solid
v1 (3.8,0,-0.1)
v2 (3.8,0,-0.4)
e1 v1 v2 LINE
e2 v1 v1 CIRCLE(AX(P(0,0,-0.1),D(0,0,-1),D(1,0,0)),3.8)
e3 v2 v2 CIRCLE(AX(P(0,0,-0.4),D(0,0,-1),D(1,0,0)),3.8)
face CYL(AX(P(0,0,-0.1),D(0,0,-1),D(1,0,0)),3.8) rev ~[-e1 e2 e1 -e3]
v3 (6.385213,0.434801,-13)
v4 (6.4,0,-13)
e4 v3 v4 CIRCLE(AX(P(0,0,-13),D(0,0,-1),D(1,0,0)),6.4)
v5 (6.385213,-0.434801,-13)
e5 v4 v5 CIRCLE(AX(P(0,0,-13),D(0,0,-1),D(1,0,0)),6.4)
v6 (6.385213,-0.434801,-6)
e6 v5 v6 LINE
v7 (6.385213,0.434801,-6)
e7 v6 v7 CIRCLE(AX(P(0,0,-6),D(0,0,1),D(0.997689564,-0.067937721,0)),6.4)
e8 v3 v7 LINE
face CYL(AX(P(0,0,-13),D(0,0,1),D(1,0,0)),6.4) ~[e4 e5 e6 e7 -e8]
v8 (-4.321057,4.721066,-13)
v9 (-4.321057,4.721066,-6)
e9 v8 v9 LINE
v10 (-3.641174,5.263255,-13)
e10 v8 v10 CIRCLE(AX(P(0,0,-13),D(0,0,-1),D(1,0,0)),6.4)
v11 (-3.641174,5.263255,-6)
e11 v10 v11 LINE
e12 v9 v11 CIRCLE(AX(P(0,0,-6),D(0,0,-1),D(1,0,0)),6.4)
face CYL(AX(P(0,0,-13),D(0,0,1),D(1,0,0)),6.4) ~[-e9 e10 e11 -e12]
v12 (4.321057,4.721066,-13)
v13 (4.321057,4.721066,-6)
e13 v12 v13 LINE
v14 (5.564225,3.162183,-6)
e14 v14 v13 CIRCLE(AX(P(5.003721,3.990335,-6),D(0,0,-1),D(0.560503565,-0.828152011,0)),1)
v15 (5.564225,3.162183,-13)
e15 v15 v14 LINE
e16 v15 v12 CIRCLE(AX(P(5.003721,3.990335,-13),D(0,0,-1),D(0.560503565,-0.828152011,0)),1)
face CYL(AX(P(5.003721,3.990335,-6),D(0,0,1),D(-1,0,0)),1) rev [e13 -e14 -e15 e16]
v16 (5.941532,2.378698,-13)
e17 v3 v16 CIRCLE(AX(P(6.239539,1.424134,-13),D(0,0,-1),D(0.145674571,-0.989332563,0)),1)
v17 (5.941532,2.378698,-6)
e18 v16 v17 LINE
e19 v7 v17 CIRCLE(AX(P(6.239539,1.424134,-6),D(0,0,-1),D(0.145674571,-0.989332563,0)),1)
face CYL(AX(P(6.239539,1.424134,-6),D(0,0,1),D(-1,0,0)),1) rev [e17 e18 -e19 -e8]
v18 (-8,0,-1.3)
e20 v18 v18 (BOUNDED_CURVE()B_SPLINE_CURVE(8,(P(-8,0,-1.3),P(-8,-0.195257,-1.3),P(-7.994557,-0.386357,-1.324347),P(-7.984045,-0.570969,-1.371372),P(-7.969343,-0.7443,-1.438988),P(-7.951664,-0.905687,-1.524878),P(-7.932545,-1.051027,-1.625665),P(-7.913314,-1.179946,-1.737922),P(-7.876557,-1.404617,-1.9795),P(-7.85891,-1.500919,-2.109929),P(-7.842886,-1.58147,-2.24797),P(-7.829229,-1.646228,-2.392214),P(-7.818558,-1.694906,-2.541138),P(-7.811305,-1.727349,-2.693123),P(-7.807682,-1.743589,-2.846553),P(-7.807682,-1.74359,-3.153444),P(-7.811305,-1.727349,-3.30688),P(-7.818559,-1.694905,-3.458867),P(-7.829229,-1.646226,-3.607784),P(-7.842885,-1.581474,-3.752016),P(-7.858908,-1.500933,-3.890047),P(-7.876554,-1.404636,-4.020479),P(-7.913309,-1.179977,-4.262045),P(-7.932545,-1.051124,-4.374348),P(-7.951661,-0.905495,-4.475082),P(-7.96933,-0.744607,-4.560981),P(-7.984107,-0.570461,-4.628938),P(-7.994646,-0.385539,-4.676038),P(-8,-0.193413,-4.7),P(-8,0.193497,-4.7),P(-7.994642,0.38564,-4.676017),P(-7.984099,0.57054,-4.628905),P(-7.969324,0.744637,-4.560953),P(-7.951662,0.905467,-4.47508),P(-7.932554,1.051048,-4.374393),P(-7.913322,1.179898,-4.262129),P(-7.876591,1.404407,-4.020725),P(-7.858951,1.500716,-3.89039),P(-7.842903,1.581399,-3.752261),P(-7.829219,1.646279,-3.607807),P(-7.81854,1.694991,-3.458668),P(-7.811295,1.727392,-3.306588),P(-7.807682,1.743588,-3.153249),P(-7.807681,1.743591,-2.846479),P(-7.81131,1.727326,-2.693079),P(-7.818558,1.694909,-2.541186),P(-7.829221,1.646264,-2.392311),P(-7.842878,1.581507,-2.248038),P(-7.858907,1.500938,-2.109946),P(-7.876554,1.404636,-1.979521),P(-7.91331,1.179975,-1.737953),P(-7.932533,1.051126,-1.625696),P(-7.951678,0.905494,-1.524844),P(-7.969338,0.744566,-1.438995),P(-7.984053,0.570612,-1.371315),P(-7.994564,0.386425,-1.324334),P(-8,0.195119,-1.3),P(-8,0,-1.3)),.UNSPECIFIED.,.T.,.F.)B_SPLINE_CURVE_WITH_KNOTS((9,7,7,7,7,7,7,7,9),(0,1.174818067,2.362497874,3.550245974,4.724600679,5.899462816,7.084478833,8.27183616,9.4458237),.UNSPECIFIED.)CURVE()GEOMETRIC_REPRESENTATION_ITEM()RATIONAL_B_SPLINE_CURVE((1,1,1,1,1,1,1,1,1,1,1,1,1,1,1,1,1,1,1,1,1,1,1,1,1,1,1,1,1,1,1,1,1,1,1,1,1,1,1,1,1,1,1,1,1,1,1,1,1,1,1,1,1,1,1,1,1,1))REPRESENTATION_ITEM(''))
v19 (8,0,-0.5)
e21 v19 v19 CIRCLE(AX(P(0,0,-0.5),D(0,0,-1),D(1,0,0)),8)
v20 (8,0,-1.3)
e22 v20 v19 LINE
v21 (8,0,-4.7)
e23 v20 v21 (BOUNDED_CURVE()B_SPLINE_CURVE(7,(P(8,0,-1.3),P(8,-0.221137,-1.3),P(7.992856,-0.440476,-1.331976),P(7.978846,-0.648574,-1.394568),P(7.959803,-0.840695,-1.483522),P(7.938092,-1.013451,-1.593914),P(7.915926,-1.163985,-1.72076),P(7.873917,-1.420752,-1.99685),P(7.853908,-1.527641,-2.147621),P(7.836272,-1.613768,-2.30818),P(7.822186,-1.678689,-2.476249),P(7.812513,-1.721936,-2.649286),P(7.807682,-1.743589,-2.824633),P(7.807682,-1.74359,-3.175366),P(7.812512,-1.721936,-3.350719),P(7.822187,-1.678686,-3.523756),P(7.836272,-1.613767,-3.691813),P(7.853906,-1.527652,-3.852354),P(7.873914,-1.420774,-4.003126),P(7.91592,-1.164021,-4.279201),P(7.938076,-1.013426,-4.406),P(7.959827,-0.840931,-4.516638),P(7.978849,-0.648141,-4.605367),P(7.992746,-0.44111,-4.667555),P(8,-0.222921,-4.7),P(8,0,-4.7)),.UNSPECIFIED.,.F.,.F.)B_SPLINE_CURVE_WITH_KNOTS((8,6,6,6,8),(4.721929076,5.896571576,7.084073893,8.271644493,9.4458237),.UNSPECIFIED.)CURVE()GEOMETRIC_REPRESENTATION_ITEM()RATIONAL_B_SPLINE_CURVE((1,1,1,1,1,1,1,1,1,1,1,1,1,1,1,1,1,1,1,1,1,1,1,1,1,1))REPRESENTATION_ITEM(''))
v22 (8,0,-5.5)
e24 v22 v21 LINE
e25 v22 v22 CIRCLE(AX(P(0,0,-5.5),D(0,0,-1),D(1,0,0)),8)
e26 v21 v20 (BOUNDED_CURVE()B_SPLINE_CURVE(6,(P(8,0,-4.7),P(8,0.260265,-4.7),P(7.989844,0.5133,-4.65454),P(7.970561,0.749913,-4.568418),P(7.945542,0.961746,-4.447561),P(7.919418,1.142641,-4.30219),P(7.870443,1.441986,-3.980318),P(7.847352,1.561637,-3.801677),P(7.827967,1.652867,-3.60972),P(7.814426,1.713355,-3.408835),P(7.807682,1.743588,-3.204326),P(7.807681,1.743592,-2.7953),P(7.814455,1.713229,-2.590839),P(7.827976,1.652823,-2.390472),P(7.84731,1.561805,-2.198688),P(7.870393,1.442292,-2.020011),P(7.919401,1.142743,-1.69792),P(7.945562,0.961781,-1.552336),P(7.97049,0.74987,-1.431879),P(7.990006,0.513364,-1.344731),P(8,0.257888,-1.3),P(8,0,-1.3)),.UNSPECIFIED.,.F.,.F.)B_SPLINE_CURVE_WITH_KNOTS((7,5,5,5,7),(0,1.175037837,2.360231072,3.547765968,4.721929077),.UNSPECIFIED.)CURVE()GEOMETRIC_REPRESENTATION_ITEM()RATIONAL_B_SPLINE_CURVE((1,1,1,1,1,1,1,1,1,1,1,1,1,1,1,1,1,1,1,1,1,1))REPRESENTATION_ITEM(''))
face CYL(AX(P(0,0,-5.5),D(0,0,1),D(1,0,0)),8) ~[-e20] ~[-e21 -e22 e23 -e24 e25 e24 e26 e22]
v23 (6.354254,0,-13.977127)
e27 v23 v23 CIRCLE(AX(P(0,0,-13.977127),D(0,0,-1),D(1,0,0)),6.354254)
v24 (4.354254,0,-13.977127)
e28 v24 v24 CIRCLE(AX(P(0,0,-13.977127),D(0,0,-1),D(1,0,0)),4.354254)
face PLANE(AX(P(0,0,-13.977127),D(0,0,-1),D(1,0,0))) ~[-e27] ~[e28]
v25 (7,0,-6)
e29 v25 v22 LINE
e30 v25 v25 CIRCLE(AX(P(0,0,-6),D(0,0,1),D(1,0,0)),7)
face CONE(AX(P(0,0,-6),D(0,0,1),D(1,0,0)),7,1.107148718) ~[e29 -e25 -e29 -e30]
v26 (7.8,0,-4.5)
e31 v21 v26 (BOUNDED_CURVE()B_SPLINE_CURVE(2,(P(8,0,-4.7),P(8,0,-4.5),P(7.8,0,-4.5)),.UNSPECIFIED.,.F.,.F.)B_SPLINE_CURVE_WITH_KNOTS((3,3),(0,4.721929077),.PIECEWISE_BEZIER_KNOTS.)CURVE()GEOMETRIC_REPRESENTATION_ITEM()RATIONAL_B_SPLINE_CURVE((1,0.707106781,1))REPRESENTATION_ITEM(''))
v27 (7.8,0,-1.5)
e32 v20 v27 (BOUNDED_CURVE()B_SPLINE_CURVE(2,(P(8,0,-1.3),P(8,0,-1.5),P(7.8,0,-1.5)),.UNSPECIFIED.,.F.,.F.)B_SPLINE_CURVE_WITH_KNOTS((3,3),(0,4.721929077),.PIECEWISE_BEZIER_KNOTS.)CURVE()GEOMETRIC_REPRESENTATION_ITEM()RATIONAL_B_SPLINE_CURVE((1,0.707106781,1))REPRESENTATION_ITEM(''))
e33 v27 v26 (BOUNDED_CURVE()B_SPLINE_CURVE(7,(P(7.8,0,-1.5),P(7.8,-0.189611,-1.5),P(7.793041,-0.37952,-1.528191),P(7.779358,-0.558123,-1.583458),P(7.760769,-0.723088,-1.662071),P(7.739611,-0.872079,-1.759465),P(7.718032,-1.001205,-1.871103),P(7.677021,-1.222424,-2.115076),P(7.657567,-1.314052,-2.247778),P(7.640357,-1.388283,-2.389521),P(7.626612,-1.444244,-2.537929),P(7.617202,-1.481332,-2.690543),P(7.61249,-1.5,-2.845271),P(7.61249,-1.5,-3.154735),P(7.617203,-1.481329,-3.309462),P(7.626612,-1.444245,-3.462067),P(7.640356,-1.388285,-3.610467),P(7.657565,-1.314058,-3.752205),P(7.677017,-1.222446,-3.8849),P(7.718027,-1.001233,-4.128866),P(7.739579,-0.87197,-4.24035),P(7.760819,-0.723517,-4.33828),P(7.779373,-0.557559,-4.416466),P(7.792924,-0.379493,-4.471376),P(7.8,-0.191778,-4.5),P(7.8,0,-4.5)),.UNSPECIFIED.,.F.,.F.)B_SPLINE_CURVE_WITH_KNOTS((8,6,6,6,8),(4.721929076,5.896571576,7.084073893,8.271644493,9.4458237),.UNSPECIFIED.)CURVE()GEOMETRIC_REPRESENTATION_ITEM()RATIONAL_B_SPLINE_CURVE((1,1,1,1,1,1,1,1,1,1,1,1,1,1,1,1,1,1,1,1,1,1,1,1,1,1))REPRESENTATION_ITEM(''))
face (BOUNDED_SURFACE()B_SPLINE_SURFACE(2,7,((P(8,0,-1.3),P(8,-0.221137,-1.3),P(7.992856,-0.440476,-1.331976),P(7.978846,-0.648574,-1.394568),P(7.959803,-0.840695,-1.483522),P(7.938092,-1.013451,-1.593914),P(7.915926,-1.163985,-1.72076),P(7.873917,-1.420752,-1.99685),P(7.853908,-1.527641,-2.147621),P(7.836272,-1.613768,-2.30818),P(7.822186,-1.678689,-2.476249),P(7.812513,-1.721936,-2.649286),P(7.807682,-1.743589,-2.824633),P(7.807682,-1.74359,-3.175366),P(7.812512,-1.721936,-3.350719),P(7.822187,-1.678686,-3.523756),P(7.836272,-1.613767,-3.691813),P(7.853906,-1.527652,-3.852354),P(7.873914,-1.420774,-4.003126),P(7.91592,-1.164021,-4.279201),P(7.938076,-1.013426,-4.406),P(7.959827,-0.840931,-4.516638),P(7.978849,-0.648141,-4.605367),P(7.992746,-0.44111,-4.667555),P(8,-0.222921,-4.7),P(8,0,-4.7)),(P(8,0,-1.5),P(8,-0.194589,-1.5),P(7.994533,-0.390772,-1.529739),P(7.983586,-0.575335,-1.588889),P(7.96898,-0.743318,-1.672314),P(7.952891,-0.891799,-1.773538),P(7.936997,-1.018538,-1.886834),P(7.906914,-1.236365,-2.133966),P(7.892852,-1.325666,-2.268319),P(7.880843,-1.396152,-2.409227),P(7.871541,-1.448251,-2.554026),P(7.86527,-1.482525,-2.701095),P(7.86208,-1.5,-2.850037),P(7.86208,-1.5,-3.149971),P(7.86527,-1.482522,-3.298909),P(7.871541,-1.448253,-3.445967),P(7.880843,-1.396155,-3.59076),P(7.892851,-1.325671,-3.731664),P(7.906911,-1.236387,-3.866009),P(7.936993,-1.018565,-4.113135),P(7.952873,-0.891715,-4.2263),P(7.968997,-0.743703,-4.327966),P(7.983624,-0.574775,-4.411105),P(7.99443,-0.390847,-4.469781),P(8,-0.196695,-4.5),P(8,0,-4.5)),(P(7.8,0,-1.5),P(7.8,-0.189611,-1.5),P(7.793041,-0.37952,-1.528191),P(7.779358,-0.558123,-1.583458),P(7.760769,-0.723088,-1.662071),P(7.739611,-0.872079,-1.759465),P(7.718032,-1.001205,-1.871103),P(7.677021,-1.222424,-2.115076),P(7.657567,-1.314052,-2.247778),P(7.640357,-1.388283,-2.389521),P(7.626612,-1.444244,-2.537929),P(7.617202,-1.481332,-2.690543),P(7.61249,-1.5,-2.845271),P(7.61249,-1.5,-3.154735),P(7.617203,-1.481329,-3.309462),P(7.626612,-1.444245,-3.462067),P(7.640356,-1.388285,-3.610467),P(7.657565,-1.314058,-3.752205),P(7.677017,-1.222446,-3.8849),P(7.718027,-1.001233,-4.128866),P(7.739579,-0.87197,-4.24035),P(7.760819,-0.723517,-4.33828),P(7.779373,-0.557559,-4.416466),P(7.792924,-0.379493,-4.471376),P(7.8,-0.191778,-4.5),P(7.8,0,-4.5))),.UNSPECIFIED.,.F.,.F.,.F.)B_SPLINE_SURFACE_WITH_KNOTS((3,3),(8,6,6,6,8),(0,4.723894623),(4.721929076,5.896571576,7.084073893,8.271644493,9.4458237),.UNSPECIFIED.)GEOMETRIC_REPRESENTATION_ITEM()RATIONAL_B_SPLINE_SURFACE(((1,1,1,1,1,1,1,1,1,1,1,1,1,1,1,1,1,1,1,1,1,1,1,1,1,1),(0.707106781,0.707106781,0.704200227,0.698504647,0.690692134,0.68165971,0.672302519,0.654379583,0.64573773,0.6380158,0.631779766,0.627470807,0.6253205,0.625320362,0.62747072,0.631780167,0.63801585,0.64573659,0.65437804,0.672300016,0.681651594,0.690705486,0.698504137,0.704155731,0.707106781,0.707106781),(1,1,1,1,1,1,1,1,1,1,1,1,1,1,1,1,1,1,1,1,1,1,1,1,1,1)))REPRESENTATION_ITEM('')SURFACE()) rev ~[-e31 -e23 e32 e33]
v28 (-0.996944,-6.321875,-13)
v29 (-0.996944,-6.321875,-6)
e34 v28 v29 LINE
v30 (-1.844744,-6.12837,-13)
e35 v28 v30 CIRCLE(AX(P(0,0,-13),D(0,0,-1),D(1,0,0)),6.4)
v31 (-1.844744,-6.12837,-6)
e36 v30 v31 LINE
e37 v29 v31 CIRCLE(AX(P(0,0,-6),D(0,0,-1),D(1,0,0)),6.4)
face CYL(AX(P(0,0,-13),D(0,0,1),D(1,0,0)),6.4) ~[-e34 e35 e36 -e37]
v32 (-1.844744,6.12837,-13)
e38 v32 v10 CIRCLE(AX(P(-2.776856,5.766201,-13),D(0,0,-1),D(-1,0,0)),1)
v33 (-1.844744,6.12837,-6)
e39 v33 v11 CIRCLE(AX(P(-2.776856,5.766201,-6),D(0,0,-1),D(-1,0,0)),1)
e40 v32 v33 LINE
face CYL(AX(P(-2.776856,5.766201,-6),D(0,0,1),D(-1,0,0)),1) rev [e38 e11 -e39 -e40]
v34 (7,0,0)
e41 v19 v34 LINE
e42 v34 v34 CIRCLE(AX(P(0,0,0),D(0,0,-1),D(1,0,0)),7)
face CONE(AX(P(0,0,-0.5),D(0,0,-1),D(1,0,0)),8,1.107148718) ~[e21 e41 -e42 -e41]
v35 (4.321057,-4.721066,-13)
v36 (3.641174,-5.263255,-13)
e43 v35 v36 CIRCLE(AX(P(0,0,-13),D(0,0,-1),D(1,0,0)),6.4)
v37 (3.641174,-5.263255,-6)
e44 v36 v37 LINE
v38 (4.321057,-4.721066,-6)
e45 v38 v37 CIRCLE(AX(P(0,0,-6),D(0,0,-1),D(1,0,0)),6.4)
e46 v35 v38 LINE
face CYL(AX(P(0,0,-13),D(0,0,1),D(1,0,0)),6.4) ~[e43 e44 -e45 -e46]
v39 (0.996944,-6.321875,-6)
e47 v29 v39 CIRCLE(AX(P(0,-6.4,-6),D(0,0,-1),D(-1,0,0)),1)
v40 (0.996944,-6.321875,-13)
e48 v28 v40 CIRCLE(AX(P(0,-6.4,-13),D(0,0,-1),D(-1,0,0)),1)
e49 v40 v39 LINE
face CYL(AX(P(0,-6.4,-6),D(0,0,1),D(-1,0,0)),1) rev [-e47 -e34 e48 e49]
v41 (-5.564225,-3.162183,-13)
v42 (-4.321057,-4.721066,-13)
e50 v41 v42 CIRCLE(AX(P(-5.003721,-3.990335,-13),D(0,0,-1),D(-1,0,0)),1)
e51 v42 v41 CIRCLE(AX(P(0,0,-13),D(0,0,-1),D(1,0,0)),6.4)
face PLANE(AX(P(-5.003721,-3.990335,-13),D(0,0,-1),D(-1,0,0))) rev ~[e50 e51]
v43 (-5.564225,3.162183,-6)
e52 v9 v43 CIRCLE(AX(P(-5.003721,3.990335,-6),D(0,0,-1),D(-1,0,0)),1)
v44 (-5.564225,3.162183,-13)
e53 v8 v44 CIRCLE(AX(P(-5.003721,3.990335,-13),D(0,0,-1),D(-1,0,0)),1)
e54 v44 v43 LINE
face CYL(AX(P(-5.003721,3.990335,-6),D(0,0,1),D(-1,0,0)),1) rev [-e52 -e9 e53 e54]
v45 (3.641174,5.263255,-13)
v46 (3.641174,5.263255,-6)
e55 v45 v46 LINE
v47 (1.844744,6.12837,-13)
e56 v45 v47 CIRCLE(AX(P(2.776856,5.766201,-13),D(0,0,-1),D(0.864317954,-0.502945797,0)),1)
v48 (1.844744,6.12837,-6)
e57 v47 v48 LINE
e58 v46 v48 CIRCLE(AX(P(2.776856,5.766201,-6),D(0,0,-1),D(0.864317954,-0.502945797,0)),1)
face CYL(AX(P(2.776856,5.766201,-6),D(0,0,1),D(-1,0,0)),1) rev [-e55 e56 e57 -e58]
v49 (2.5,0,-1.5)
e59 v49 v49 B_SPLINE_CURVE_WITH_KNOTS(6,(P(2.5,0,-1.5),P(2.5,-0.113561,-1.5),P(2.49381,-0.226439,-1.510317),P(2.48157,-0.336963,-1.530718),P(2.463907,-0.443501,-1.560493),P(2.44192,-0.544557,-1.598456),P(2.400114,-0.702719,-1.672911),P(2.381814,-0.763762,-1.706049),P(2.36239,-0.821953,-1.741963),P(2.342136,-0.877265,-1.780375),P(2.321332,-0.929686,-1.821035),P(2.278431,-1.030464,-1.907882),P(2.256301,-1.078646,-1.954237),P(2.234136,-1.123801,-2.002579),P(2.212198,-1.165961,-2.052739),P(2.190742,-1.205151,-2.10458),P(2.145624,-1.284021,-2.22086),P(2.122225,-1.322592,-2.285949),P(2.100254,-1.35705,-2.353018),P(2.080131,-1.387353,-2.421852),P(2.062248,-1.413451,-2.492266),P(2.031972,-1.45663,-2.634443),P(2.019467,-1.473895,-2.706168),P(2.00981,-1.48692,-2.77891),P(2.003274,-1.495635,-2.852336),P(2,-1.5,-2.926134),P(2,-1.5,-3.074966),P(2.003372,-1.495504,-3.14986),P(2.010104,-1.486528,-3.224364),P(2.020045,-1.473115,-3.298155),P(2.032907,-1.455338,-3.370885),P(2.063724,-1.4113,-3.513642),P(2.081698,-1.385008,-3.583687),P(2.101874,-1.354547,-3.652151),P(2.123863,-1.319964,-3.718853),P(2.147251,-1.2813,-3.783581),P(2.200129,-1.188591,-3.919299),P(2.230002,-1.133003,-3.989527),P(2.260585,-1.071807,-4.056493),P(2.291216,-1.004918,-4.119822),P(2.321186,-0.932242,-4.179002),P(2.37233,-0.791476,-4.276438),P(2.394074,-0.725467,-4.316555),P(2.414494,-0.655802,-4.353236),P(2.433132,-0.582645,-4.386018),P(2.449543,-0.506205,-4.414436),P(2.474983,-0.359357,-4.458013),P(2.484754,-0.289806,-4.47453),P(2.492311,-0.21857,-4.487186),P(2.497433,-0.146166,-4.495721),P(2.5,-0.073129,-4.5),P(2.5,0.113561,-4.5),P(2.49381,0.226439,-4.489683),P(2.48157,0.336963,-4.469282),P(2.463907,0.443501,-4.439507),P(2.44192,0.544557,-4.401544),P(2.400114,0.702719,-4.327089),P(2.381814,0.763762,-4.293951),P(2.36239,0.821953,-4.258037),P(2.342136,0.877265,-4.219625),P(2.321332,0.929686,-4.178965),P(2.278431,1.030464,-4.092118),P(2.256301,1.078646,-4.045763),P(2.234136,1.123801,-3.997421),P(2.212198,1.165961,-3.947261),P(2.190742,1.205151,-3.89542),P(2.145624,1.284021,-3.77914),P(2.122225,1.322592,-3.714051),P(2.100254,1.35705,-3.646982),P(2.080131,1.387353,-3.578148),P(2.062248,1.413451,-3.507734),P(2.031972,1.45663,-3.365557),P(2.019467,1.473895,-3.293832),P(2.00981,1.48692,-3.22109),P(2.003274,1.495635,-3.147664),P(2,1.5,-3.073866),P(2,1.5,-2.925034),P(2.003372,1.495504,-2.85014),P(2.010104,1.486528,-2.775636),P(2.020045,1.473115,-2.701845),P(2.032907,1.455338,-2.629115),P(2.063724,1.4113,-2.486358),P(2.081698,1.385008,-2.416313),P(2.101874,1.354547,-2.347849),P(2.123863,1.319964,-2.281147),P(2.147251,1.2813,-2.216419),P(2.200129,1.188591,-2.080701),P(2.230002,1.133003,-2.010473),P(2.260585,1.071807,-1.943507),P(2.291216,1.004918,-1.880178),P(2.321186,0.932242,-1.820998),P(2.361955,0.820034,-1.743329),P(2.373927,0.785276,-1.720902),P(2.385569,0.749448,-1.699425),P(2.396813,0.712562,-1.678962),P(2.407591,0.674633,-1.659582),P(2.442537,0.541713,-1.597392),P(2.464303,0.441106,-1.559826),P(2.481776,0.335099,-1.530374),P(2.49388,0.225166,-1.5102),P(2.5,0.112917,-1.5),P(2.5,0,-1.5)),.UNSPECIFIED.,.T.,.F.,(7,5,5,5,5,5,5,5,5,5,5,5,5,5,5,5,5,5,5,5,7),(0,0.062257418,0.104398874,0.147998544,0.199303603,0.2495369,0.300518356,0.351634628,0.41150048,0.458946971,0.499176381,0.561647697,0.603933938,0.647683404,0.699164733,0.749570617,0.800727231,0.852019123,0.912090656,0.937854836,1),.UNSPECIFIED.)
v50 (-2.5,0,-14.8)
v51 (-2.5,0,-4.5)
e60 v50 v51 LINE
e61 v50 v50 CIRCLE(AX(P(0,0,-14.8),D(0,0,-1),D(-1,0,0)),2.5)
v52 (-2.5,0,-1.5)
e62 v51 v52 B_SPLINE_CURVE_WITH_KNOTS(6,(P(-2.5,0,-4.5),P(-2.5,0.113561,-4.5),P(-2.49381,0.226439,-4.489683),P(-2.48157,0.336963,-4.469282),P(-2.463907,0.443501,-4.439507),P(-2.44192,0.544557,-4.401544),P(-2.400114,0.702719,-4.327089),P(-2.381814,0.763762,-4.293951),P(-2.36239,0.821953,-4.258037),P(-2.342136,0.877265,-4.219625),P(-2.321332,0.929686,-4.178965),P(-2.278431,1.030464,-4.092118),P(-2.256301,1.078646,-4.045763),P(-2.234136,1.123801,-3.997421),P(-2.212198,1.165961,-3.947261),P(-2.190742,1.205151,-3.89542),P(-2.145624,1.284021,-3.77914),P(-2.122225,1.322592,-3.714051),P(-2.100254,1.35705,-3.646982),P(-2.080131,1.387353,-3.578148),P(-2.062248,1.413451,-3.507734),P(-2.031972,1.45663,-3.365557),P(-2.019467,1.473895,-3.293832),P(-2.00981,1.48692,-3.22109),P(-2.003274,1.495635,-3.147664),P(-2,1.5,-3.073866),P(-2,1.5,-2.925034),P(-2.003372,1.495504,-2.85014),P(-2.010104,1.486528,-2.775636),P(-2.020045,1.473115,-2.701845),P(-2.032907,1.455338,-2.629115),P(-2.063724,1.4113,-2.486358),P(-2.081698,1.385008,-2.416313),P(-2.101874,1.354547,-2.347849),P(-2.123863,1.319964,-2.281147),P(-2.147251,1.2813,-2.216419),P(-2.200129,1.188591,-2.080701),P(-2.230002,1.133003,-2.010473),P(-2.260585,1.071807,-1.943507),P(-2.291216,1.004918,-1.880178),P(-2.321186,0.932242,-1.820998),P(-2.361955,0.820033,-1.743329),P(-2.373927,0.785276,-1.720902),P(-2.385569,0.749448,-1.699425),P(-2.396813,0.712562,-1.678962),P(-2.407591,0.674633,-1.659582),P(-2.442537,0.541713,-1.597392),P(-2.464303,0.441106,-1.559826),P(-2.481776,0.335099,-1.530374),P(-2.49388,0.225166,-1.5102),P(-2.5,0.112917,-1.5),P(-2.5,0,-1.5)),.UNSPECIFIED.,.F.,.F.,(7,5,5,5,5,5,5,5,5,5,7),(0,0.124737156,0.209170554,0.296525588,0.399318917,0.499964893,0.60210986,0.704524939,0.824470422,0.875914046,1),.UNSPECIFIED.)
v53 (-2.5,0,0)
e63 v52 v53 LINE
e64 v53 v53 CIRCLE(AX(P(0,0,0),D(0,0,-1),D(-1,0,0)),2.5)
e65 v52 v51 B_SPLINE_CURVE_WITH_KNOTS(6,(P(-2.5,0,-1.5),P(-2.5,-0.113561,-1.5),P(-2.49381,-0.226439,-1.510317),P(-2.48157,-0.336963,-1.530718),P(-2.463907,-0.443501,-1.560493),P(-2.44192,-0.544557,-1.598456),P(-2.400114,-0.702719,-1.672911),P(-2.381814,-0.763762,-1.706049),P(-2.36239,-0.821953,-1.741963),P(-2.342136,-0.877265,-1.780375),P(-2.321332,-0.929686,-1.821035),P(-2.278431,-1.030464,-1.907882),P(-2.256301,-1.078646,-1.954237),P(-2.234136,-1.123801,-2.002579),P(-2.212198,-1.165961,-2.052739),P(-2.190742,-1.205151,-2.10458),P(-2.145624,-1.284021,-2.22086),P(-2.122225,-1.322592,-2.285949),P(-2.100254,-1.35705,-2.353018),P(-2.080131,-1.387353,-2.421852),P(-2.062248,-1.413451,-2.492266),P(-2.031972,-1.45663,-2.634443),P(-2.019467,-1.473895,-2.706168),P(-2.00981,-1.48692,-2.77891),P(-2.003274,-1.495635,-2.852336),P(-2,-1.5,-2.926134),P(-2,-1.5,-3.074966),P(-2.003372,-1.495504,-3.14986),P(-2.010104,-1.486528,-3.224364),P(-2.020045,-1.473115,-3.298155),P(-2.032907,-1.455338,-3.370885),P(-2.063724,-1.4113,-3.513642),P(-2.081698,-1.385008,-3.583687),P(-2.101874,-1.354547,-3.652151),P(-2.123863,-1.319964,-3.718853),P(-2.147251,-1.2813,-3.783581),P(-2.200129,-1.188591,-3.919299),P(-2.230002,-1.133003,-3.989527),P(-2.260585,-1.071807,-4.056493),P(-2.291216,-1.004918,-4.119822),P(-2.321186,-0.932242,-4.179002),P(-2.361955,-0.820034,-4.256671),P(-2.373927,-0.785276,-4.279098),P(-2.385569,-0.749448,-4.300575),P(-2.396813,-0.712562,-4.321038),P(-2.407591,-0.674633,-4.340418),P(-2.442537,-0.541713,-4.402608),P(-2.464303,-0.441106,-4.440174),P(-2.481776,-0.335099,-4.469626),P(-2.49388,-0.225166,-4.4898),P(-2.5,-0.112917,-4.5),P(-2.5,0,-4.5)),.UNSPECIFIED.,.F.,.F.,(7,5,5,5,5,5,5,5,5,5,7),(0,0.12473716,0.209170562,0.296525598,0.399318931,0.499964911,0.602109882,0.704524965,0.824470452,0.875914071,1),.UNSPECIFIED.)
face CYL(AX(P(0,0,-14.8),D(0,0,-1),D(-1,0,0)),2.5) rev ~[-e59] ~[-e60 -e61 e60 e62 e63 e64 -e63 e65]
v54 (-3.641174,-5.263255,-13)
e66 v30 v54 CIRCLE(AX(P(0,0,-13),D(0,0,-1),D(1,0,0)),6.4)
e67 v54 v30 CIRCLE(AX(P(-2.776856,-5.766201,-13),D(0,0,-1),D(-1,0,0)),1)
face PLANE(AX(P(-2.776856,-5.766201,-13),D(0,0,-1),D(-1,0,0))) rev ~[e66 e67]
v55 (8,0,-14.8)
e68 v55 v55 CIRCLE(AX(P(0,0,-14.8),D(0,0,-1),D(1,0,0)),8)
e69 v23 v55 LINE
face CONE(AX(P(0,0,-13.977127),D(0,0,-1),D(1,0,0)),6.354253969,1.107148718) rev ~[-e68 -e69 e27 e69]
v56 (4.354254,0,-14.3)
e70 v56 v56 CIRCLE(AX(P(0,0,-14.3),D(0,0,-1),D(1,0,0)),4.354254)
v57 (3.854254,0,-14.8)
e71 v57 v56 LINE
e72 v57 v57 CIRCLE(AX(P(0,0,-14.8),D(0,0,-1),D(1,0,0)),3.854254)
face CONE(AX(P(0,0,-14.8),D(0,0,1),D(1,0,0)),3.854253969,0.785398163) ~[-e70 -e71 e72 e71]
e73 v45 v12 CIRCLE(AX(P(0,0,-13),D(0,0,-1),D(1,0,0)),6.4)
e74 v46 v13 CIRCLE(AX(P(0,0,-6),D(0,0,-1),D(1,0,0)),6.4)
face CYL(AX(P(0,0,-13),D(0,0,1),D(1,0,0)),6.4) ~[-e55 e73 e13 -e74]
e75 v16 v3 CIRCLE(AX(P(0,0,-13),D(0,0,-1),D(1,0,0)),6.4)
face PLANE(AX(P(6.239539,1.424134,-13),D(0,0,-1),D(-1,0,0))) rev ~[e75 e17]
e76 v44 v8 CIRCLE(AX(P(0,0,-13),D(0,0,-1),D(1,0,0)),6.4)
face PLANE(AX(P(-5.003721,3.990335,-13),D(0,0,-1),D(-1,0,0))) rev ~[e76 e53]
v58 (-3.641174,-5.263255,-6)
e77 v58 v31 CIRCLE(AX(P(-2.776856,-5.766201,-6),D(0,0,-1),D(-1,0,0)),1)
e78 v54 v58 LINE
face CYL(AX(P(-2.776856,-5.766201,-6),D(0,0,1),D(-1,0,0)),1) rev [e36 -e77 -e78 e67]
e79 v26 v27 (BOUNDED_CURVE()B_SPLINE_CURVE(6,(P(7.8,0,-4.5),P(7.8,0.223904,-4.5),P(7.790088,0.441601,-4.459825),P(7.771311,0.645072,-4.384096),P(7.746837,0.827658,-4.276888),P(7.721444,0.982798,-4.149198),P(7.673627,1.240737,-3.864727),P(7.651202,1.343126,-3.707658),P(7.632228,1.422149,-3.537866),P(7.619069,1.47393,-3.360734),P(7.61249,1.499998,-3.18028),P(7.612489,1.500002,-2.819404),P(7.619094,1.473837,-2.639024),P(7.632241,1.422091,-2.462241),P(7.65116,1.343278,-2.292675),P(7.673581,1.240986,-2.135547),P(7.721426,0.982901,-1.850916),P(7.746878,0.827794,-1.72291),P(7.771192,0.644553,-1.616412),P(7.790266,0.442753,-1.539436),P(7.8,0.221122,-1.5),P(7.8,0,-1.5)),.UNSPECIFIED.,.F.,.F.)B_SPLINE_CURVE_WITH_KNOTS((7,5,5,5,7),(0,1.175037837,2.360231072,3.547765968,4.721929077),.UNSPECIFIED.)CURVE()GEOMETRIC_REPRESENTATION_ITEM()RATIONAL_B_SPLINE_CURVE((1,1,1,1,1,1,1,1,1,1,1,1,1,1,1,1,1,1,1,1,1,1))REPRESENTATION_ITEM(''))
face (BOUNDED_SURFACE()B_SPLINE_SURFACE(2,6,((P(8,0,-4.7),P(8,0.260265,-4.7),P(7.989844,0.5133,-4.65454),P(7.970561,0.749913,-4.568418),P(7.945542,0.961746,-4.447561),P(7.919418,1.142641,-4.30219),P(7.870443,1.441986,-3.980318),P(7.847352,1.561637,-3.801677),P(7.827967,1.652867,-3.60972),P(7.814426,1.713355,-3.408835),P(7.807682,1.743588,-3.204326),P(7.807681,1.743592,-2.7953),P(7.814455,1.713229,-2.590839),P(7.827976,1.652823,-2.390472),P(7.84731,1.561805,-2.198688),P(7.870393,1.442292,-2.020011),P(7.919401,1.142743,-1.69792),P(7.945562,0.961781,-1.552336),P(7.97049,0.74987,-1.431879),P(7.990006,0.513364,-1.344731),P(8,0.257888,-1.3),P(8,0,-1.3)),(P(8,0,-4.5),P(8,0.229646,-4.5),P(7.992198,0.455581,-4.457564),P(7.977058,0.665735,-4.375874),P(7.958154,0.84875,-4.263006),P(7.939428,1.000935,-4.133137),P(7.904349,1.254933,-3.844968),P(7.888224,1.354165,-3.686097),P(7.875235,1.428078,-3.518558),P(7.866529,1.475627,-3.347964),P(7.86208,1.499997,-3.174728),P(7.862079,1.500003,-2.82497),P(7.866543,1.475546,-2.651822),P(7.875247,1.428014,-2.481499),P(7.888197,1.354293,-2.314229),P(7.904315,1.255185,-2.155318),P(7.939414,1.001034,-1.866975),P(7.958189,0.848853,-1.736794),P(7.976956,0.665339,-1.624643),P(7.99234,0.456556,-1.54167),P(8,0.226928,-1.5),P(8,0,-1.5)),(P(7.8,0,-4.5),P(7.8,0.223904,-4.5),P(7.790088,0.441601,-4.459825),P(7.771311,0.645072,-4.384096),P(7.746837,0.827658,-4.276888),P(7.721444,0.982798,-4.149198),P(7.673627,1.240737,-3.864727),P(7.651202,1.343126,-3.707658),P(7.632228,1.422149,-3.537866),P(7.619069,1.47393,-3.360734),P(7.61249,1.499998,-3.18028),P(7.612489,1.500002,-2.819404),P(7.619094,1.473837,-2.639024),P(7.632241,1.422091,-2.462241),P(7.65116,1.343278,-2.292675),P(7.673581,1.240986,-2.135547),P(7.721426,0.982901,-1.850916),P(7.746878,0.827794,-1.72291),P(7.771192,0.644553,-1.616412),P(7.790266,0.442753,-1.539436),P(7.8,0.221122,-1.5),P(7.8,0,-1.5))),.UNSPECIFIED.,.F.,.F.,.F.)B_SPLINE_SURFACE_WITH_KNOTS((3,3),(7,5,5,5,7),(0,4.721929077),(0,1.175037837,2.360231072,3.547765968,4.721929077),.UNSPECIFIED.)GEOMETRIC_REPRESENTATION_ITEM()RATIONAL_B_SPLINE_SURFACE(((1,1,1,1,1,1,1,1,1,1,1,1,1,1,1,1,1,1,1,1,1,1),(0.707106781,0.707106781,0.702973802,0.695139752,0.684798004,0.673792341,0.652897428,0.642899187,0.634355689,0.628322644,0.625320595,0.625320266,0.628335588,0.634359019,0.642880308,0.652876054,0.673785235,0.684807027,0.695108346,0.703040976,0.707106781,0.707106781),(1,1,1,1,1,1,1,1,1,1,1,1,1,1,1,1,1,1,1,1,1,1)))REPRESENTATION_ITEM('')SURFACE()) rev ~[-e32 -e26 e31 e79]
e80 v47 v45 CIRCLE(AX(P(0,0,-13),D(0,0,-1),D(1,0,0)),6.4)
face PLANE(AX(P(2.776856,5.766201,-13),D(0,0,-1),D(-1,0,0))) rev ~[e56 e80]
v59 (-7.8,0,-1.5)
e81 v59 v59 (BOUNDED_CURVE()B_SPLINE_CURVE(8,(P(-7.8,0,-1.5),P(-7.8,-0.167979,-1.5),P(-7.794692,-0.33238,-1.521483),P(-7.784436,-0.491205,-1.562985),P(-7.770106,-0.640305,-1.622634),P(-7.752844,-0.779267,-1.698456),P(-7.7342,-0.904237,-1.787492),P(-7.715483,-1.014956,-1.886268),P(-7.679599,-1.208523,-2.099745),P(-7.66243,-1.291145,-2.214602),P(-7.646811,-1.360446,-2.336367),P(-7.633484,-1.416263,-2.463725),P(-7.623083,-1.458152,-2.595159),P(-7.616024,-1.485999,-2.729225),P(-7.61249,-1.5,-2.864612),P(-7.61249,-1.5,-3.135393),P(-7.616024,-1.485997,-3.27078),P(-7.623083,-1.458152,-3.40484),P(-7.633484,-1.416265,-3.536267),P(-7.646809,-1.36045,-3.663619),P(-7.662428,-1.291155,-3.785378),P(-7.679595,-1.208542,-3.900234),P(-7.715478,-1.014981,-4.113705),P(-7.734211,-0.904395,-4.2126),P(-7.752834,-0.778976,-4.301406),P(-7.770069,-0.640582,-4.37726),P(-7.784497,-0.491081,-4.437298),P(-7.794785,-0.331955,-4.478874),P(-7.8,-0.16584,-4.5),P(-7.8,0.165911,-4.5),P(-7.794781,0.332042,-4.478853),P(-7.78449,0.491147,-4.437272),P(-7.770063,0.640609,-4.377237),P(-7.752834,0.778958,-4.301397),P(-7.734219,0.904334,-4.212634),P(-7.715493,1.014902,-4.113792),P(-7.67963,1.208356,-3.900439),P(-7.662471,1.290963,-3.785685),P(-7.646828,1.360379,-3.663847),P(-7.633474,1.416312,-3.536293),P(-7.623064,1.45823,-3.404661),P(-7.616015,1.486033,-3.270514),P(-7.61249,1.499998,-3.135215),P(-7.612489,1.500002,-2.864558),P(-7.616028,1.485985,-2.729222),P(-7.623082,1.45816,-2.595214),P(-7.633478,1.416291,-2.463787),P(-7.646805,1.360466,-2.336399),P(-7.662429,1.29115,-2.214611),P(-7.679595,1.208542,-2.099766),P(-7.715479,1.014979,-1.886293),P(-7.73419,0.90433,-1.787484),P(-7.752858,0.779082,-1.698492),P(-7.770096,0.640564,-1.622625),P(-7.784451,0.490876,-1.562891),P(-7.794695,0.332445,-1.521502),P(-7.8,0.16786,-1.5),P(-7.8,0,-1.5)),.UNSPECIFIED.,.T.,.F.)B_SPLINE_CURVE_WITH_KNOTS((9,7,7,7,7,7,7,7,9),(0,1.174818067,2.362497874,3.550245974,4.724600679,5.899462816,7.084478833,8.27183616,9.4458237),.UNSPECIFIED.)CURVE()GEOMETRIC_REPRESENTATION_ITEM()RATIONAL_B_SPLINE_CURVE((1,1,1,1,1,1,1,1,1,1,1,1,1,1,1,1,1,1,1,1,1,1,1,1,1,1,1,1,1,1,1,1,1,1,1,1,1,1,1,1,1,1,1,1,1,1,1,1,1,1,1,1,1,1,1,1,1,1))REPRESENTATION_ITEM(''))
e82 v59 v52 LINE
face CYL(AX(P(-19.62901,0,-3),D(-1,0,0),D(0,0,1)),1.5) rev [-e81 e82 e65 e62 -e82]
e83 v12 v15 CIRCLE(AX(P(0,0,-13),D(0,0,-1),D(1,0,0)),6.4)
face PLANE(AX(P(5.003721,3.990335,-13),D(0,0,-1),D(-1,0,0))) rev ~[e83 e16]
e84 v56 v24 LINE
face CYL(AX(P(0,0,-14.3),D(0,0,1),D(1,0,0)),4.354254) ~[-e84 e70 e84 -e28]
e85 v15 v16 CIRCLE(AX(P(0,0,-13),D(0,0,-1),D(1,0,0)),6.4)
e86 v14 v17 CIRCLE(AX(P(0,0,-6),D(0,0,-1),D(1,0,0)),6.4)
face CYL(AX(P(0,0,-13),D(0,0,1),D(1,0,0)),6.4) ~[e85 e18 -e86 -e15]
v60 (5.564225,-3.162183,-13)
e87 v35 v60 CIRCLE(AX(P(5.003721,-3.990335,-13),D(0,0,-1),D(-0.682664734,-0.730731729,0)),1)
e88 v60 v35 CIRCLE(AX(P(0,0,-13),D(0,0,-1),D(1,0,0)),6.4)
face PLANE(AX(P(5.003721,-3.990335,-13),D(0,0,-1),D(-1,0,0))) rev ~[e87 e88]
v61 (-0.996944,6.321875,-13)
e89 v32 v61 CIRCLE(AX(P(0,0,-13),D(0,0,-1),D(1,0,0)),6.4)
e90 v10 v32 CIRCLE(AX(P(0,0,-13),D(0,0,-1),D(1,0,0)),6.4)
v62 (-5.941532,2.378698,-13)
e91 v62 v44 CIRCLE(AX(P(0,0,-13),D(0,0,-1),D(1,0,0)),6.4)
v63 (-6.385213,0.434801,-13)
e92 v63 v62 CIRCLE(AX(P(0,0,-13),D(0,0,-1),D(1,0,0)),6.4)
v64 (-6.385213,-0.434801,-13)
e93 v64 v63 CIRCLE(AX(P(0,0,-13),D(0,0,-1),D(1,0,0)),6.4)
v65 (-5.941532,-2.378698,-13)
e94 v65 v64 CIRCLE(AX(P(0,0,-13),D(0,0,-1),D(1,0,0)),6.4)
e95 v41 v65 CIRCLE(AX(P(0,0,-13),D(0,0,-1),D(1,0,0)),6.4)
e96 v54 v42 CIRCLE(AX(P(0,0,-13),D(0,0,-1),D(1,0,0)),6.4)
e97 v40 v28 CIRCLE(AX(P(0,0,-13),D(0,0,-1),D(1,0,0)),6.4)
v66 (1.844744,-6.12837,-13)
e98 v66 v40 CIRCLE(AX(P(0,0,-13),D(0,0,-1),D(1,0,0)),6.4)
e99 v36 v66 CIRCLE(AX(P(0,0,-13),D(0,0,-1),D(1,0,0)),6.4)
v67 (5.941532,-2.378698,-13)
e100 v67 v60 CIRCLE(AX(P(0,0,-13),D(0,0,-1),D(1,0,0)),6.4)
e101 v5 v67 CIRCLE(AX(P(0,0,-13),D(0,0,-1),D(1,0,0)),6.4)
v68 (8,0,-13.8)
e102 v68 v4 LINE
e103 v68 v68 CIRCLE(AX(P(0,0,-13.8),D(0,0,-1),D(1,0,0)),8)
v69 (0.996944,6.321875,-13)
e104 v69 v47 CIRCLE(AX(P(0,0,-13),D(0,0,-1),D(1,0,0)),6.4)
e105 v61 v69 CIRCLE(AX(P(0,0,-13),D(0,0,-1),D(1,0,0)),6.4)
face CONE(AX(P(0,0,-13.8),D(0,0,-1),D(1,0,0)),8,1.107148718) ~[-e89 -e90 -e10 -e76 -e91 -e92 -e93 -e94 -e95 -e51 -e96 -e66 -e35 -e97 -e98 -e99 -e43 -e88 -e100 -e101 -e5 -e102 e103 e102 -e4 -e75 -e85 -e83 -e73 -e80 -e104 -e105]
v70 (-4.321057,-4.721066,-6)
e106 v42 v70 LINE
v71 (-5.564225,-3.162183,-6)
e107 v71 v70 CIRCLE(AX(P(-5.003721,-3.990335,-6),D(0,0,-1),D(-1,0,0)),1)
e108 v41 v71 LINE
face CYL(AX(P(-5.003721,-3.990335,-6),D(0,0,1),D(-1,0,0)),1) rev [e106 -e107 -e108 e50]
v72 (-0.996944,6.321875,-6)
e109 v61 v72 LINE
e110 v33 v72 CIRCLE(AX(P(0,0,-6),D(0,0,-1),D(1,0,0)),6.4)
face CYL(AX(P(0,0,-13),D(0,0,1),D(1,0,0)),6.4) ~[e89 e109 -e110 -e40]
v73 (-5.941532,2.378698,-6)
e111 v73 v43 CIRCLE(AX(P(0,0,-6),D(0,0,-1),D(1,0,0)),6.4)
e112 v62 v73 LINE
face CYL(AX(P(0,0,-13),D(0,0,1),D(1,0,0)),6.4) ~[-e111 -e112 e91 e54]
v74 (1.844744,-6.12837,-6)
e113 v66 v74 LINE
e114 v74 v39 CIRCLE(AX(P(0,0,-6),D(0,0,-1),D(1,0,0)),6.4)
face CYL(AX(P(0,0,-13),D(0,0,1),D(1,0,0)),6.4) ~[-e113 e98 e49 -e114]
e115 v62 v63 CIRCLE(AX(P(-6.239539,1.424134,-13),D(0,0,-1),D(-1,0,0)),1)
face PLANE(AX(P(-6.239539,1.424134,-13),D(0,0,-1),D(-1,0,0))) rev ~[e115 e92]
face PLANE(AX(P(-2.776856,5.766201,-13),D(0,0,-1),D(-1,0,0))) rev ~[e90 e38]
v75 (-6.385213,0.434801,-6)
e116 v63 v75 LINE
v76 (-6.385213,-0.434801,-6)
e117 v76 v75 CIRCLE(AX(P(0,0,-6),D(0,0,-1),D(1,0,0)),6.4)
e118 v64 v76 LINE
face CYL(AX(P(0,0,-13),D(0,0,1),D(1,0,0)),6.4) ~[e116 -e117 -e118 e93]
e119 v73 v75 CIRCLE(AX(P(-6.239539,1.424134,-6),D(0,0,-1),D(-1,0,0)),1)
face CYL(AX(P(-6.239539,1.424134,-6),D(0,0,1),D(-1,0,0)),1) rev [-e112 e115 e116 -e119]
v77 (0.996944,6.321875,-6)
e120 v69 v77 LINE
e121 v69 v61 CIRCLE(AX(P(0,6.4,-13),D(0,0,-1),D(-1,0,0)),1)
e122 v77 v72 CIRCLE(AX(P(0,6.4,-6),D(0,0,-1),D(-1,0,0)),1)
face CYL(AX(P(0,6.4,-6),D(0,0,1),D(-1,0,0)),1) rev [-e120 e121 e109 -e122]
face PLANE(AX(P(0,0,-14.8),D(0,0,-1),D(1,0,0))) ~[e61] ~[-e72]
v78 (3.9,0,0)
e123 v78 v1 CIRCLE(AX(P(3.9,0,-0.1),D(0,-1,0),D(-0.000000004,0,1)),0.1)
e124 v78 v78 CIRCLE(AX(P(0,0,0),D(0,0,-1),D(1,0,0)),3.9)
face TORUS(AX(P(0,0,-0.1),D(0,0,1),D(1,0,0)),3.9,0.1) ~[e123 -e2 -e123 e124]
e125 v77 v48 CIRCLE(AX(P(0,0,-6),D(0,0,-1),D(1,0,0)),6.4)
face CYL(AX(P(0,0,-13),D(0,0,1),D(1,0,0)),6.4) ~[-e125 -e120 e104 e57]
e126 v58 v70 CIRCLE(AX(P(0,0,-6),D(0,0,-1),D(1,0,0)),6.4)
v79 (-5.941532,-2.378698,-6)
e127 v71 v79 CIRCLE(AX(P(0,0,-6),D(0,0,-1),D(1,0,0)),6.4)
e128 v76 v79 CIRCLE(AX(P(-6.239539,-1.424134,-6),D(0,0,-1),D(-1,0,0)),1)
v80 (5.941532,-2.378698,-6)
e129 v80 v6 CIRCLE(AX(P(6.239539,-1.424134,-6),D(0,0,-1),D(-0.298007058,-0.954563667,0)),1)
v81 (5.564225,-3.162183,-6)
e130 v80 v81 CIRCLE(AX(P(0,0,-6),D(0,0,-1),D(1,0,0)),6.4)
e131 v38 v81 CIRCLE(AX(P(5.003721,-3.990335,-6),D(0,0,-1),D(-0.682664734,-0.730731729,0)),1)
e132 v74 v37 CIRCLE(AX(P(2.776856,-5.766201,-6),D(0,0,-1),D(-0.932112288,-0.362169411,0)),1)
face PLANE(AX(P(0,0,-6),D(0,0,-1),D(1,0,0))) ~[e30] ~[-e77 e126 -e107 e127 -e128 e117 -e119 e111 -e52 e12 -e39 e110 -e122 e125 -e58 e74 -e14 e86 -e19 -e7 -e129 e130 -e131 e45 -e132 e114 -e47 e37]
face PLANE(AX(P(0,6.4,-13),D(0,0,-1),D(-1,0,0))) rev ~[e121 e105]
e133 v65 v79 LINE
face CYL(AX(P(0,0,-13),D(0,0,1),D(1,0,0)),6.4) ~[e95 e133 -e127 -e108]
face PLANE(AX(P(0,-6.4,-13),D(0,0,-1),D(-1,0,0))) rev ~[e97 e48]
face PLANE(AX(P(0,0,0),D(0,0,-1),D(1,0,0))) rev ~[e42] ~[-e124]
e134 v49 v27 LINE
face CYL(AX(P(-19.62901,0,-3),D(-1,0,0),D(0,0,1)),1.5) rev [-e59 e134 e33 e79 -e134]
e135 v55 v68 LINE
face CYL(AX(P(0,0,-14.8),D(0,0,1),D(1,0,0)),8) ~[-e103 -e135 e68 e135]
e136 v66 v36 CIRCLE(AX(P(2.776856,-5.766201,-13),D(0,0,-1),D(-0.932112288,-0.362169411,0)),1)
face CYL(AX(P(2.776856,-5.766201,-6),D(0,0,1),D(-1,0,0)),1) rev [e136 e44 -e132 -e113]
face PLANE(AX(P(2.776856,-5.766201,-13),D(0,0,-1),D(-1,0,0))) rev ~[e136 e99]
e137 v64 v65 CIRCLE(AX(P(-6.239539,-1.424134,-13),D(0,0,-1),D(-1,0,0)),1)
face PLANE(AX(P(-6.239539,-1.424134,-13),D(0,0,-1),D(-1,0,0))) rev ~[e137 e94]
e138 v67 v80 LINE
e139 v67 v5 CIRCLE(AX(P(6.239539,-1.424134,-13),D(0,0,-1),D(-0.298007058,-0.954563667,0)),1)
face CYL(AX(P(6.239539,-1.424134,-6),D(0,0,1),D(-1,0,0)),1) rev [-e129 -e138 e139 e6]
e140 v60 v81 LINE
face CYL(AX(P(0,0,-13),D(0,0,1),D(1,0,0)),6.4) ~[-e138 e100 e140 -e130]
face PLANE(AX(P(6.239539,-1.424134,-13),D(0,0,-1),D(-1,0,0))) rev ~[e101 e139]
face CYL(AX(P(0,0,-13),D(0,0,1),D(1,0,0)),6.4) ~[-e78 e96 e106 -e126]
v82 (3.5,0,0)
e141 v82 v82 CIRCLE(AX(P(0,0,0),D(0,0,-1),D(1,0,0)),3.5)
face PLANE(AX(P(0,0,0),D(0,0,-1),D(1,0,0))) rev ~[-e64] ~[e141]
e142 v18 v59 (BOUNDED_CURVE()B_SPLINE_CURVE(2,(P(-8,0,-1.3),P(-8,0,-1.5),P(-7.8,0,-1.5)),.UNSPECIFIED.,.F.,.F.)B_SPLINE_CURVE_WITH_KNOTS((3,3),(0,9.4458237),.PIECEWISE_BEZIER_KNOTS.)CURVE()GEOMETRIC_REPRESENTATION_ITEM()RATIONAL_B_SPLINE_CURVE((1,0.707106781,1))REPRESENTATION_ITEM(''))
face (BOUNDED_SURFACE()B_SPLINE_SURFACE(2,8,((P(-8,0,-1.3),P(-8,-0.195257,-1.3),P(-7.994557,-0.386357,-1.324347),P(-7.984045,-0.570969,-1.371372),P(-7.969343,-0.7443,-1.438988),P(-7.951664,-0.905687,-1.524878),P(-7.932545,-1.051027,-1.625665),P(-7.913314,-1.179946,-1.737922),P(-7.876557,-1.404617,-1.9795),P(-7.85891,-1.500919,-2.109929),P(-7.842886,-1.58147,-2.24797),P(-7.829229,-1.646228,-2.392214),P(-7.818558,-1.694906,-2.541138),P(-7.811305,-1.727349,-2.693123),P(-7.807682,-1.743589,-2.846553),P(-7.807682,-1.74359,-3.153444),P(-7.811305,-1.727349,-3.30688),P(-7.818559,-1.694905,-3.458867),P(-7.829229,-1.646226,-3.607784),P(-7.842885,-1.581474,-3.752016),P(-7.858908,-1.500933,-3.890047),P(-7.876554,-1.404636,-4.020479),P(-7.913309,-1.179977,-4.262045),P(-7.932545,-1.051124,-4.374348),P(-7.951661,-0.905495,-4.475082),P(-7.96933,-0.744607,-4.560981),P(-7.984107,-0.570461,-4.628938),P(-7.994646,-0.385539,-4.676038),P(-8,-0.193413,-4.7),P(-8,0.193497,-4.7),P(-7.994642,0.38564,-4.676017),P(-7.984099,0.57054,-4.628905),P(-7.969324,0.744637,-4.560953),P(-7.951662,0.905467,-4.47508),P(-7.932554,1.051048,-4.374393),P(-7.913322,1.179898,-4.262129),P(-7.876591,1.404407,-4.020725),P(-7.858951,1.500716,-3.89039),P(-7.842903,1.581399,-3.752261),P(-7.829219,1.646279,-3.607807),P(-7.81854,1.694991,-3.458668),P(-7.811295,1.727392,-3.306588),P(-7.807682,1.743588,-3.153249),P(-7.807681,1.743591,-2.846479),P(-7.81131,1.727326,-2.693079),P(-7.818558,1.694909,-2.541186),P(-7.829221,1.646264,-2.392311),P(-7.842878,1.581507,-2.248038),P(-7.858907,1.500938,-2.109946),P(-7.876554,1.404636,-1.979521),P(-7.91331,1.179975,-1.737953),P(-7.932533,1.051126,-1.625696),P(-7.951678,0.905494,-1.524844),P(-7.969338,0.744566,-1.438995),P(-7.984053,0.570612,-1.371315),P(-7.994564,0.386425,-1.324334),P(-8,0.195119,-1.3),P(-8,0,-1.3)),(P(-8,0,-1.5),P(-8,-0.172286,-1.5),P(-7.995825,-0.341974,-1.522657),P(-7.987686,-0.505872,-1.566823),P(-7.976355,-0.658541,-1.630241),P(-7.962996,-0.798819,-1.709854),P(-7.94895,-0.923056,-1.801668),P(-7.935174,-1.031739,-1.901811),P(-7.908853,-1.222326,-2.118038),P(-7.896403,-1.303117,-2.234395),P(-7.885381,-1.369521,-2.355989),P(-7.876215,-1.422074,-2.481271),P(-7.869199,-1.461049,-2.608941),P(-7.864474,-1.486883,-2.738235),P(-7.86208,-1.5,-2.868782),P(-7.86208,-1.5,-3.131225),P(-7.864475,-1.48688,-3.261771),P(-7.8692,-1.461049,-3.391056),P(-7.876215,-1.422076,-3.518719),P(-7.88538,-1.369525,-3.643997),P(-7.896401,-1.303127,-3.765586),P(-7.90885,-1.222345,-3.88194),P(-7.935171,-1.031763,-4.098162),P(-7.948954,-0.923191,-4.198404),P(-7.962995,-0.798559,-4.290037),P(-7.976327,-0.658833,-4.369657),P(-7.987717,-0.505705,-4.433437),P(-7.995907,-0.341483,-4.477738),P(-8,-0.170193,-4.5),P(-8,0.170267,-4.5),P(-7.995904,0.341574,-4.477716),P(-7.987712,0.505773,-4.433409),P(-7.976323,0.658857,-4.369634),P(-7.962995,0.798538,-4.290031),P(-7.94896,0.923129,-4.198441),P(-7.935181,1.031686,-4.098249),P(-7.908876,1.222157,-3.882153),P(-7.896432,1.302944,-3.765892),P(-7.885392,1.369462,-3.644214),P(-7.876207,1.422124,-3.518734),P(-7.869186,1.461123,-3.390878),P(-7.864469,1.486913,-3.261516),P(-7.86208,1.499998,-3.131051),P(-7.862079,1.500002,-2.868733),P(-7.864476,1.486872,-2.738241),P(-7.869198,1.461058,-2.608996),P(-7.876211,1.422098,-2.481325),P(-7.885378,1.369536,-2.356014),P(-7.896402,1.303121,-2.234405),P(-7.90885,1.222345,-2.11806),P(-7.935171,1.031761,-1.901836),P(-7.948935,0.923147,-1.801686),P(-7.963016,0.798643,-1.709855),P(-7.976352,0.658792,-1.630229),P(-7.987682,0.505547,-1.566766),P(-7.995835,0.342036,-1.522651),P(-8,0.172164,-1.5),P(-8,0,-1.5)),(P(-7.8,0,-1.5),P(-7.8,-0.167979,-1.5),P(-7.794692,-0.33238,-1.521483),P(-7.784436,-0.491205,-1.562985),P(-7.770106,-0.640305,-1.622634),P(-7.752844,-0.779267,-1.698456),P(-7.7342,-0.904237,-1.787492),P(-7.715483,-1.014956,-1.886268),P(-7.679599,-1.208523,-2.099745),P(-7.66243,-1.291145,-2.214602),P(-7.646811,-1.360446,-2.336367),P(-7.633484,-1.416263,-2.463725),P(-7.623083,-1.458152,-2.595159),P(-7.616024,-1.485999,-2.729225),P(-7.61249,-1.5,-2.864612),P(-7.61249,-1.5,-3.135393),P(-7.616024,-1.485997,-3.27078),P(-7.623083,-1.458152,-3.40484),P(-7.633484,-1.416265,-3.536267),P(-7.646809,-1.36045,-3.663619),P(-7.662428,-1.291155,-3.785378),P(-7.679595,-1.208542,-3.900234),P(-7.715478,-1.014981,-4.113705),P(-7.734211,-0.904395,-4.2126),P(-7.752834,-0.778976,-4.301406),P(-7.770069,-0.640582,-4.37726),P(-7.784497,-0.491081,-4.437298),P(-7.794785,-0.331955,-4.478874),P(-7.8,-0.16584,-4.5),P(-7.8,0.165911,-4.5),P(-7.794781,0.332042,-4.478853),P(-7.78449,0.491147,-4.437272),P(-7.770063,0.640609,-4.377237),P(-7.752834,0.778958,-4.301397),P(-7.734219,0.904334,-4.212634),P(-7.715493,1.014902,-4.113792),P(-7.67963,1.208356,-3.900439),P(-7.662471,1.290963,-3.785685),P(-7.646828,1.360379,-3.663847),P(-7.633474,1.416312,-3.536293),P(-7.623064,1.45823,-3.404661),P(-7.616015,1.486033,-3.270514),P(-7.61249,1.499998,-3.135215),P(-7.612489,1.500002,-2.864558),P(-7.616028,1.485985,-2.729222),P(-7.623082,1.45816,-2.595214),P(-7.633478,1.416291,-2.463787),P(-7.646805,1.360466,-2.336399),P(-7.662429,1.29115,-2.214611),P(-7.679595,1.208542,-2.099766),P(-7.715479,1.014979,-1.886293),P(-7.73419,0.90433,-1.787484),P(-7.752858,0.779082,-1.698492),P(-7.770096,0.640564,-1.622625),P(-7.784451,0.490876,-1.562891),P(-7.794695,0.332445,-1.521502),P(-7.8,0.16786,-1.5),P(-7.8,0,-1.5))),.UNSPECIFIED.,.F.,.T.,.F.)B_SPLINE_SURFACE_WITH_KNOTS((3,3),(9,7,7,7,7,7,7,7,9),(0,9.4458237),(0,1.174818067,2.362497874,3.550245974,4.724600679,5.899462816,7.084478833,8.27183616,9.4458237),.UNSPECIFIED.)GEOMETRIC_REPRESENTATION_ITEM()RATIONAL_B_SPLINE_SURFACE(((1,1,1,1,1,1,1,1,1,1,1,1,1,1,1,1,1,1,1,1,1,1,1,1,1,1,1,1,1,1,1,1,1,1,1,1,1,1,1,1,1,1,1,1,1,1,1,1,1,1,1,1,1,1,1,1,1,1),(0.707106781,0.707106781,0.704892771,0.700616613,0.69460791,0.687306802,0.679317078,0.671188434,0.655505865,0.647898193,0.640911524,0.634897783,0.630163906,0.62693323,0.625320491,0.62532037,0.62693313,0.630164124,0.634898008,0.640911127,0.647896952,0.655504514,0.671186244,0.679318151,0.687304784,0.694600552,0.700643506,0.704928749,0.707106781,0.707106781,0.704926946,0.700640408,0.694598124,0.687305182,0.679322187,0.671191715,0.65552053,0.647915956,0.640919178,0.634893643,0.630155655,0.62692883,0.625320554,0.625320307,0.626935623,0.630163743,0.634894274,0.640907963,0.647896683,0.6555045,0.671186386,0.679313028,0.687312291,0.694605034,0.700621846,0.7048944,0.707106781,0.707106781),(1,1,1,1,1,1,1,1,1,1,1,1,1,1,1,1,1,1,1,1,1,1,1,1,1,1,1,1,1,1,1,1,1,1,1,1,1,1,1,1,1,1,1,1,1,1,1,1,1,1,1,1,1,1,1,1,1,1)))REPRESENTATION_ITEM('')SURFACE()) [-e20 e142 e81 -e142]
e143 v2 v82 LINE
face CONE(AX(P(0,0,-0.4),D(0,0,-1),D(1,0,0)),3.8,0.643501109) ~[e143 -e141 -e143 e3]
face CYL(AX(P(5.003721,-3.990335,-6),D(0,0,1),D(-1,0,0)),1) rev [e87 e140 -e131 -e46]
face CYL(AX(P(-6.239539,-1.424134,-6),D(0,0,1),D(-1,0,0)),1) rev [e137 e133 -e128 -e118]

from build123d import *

# Parameters (mm, degrees)
ESBO_O2_R                  = 2.5
CORTE_EXTRUS_O1_DEPTH      = 19.629009636
ESBO_O4_R                  = 1
CORTE_EXTRUS_O2_DEPTH      = 7
CORTE_EXTRUS_O3_DEPTH      = 19.629009636
CORTE_EXTRUS_O3_DEPTH_BACK = 19.629009636
ESBO_O5_R                  = 1.5
FILETE1_R                  = 0.2


with BuildPart() as part:
    # Esboço1 → Revolução1 (revolve)
    with BuildSketch(Plane(origin=(0, 0, 0), x_dir=(0, 0, -1), z_dir=(1, 0, 0)), mode=Mode.PRIVATE) as revolu_o1_sk:
        with BuildLine():
            Line((0, 7), (0, 3.9))
            ThreePointArc((0, 3.9), (0.029289322, 3.829289322), (0.1, 3.8))
            Line((0.1, 3.8), (0.4, 3.8))
            Line((0.4, 3.8), (0, 3.5))
            Line((0, 3.5), (0, 0))
            Line((0, 0), (14.8, 0))
            Line((14.8, 0), (14.8, 3.854253969))
            Line((14.8, 3.854253969), (14.3, 4.354253969))
            Line((14.3, 4.354253969), (13.977126984, 4.354253969))
            Line((13.977126984, 4.354253969), (13.977126984, 6.354253969))
            Line((13.977126984, 6.354253969), (14.8, 8))
            Line((14.8, 8), (13.8, 8))
            Line((13.8, 8), (13, 6.4))
            Line((13, 6.4), (6, 6.4))
            Line((6, 6.4), (6, 7))
            Line((6, 7), (5.5, 8))
            Line((5.5, 8), (0.5, 8))
            Line((0.5, 8), (0, 7))
        make_face()
    revolve(revolu_o1_sk.sketch.rotate(Axis((0, 0, 0), (0, 0, -1)), 90), axis=Axis((0, 0, 0), (0, 0, -1)))

    # Esboço2 → Corte-extrusão1 (cut, through all)
    with BuildSketch(Plane(origin=(0, 0, -14.8), x_dir=(-1, 0, 0), z_dir=(0, 0, -1))):
        Circle(ESBO_O2_R)
    extrude(amount=-CORTE_EXTRUS_O1_DEPTH, mode=Mode.SUBTRACT)

    # Esboço4 → Corte-extrusão2 (cut)
    with BuildSketch(Plane(origin=(0, 0, -6), x_dir=(-1, 0, 0), z_dir=(0, 0, -1))):
        with Locations((0, 6.4)):
            Circle(ESBO_O4_R)
        with Locations((2.77685593, 5.766200755)):
            Circle(ESBO_O4_R)
        with Locations((5.003721488, 3.990334732)):
            Circle(ESBO_O4_R)
        with Locations((6.239538638, 1.424133977)):
            Circle(ESBO_O4_R)
        with Locations((6.239538638, -1.424133977)):
            Circle(ESBO_O4_R)
        with Locations((5.003721488, -3.990334732)):
            Circle(ESBO_O4_R)
        with Locations((2.77685593, -5.766200755)):
            Circle(ESBO_O4_R)
        with Locations((0, -6.4)):
            Circle(ESBO_O4_R)
        with Locations((-2.77685593, -5.766200755)):
            Circle(ESBO_O4_R)
        with Locations((-5.003721488, -3.990334732)):
            Circle(ESBO_O4_R)
        with Locations((-6.239538638, -1.424133977)):
            Circle(ESBO_O4_R)
        with Locations((-6.239538638, 1.424133977)):
            Circle(ESBO_O4_R)
        with Locations((-5.003721488, 3.990334732)):
            Circle(ESBO_O4_R)
        with Locations((-2.77685593, 5.766200755)):
            Circle(ESBO_O4_R)
    extrude(amount=CORTE_EXTRUS_O2_DEPTH, mode=Mode.SUBTRACT)

    # Esboço5 → Corte-extrusão3 (cut, two sides: drawn at the far end of the back side and taken through both)
    with BuildSketch(Plane(origin=(0, 0, 0), x_dir=(0, 0, -1), z_dir=(1, 0, 0)).offset(-CORTE_EXTRUS_O3_DEPTH_BACK)):
        with Locations(Location((3, 0, 0), (0, 0, 180))):
            Circle(ESBO_O5_R)
    extrude(amount=CORTE_EXTRUS_O3_DEPTH + CORTE_EXTRUS_O3_DEPTH_BACK, mode=Mode.SUBTRACT)

    # Filete1
    filete1_edges = [part.edges().sort_by_distance(p)[0] for p in [
        (7.858116823, 1.5, -3),
        (-8, 0, -4.5),
    ]]
    fillet(filete1_edges, radius=FILETE1_R)


solid = part.part
